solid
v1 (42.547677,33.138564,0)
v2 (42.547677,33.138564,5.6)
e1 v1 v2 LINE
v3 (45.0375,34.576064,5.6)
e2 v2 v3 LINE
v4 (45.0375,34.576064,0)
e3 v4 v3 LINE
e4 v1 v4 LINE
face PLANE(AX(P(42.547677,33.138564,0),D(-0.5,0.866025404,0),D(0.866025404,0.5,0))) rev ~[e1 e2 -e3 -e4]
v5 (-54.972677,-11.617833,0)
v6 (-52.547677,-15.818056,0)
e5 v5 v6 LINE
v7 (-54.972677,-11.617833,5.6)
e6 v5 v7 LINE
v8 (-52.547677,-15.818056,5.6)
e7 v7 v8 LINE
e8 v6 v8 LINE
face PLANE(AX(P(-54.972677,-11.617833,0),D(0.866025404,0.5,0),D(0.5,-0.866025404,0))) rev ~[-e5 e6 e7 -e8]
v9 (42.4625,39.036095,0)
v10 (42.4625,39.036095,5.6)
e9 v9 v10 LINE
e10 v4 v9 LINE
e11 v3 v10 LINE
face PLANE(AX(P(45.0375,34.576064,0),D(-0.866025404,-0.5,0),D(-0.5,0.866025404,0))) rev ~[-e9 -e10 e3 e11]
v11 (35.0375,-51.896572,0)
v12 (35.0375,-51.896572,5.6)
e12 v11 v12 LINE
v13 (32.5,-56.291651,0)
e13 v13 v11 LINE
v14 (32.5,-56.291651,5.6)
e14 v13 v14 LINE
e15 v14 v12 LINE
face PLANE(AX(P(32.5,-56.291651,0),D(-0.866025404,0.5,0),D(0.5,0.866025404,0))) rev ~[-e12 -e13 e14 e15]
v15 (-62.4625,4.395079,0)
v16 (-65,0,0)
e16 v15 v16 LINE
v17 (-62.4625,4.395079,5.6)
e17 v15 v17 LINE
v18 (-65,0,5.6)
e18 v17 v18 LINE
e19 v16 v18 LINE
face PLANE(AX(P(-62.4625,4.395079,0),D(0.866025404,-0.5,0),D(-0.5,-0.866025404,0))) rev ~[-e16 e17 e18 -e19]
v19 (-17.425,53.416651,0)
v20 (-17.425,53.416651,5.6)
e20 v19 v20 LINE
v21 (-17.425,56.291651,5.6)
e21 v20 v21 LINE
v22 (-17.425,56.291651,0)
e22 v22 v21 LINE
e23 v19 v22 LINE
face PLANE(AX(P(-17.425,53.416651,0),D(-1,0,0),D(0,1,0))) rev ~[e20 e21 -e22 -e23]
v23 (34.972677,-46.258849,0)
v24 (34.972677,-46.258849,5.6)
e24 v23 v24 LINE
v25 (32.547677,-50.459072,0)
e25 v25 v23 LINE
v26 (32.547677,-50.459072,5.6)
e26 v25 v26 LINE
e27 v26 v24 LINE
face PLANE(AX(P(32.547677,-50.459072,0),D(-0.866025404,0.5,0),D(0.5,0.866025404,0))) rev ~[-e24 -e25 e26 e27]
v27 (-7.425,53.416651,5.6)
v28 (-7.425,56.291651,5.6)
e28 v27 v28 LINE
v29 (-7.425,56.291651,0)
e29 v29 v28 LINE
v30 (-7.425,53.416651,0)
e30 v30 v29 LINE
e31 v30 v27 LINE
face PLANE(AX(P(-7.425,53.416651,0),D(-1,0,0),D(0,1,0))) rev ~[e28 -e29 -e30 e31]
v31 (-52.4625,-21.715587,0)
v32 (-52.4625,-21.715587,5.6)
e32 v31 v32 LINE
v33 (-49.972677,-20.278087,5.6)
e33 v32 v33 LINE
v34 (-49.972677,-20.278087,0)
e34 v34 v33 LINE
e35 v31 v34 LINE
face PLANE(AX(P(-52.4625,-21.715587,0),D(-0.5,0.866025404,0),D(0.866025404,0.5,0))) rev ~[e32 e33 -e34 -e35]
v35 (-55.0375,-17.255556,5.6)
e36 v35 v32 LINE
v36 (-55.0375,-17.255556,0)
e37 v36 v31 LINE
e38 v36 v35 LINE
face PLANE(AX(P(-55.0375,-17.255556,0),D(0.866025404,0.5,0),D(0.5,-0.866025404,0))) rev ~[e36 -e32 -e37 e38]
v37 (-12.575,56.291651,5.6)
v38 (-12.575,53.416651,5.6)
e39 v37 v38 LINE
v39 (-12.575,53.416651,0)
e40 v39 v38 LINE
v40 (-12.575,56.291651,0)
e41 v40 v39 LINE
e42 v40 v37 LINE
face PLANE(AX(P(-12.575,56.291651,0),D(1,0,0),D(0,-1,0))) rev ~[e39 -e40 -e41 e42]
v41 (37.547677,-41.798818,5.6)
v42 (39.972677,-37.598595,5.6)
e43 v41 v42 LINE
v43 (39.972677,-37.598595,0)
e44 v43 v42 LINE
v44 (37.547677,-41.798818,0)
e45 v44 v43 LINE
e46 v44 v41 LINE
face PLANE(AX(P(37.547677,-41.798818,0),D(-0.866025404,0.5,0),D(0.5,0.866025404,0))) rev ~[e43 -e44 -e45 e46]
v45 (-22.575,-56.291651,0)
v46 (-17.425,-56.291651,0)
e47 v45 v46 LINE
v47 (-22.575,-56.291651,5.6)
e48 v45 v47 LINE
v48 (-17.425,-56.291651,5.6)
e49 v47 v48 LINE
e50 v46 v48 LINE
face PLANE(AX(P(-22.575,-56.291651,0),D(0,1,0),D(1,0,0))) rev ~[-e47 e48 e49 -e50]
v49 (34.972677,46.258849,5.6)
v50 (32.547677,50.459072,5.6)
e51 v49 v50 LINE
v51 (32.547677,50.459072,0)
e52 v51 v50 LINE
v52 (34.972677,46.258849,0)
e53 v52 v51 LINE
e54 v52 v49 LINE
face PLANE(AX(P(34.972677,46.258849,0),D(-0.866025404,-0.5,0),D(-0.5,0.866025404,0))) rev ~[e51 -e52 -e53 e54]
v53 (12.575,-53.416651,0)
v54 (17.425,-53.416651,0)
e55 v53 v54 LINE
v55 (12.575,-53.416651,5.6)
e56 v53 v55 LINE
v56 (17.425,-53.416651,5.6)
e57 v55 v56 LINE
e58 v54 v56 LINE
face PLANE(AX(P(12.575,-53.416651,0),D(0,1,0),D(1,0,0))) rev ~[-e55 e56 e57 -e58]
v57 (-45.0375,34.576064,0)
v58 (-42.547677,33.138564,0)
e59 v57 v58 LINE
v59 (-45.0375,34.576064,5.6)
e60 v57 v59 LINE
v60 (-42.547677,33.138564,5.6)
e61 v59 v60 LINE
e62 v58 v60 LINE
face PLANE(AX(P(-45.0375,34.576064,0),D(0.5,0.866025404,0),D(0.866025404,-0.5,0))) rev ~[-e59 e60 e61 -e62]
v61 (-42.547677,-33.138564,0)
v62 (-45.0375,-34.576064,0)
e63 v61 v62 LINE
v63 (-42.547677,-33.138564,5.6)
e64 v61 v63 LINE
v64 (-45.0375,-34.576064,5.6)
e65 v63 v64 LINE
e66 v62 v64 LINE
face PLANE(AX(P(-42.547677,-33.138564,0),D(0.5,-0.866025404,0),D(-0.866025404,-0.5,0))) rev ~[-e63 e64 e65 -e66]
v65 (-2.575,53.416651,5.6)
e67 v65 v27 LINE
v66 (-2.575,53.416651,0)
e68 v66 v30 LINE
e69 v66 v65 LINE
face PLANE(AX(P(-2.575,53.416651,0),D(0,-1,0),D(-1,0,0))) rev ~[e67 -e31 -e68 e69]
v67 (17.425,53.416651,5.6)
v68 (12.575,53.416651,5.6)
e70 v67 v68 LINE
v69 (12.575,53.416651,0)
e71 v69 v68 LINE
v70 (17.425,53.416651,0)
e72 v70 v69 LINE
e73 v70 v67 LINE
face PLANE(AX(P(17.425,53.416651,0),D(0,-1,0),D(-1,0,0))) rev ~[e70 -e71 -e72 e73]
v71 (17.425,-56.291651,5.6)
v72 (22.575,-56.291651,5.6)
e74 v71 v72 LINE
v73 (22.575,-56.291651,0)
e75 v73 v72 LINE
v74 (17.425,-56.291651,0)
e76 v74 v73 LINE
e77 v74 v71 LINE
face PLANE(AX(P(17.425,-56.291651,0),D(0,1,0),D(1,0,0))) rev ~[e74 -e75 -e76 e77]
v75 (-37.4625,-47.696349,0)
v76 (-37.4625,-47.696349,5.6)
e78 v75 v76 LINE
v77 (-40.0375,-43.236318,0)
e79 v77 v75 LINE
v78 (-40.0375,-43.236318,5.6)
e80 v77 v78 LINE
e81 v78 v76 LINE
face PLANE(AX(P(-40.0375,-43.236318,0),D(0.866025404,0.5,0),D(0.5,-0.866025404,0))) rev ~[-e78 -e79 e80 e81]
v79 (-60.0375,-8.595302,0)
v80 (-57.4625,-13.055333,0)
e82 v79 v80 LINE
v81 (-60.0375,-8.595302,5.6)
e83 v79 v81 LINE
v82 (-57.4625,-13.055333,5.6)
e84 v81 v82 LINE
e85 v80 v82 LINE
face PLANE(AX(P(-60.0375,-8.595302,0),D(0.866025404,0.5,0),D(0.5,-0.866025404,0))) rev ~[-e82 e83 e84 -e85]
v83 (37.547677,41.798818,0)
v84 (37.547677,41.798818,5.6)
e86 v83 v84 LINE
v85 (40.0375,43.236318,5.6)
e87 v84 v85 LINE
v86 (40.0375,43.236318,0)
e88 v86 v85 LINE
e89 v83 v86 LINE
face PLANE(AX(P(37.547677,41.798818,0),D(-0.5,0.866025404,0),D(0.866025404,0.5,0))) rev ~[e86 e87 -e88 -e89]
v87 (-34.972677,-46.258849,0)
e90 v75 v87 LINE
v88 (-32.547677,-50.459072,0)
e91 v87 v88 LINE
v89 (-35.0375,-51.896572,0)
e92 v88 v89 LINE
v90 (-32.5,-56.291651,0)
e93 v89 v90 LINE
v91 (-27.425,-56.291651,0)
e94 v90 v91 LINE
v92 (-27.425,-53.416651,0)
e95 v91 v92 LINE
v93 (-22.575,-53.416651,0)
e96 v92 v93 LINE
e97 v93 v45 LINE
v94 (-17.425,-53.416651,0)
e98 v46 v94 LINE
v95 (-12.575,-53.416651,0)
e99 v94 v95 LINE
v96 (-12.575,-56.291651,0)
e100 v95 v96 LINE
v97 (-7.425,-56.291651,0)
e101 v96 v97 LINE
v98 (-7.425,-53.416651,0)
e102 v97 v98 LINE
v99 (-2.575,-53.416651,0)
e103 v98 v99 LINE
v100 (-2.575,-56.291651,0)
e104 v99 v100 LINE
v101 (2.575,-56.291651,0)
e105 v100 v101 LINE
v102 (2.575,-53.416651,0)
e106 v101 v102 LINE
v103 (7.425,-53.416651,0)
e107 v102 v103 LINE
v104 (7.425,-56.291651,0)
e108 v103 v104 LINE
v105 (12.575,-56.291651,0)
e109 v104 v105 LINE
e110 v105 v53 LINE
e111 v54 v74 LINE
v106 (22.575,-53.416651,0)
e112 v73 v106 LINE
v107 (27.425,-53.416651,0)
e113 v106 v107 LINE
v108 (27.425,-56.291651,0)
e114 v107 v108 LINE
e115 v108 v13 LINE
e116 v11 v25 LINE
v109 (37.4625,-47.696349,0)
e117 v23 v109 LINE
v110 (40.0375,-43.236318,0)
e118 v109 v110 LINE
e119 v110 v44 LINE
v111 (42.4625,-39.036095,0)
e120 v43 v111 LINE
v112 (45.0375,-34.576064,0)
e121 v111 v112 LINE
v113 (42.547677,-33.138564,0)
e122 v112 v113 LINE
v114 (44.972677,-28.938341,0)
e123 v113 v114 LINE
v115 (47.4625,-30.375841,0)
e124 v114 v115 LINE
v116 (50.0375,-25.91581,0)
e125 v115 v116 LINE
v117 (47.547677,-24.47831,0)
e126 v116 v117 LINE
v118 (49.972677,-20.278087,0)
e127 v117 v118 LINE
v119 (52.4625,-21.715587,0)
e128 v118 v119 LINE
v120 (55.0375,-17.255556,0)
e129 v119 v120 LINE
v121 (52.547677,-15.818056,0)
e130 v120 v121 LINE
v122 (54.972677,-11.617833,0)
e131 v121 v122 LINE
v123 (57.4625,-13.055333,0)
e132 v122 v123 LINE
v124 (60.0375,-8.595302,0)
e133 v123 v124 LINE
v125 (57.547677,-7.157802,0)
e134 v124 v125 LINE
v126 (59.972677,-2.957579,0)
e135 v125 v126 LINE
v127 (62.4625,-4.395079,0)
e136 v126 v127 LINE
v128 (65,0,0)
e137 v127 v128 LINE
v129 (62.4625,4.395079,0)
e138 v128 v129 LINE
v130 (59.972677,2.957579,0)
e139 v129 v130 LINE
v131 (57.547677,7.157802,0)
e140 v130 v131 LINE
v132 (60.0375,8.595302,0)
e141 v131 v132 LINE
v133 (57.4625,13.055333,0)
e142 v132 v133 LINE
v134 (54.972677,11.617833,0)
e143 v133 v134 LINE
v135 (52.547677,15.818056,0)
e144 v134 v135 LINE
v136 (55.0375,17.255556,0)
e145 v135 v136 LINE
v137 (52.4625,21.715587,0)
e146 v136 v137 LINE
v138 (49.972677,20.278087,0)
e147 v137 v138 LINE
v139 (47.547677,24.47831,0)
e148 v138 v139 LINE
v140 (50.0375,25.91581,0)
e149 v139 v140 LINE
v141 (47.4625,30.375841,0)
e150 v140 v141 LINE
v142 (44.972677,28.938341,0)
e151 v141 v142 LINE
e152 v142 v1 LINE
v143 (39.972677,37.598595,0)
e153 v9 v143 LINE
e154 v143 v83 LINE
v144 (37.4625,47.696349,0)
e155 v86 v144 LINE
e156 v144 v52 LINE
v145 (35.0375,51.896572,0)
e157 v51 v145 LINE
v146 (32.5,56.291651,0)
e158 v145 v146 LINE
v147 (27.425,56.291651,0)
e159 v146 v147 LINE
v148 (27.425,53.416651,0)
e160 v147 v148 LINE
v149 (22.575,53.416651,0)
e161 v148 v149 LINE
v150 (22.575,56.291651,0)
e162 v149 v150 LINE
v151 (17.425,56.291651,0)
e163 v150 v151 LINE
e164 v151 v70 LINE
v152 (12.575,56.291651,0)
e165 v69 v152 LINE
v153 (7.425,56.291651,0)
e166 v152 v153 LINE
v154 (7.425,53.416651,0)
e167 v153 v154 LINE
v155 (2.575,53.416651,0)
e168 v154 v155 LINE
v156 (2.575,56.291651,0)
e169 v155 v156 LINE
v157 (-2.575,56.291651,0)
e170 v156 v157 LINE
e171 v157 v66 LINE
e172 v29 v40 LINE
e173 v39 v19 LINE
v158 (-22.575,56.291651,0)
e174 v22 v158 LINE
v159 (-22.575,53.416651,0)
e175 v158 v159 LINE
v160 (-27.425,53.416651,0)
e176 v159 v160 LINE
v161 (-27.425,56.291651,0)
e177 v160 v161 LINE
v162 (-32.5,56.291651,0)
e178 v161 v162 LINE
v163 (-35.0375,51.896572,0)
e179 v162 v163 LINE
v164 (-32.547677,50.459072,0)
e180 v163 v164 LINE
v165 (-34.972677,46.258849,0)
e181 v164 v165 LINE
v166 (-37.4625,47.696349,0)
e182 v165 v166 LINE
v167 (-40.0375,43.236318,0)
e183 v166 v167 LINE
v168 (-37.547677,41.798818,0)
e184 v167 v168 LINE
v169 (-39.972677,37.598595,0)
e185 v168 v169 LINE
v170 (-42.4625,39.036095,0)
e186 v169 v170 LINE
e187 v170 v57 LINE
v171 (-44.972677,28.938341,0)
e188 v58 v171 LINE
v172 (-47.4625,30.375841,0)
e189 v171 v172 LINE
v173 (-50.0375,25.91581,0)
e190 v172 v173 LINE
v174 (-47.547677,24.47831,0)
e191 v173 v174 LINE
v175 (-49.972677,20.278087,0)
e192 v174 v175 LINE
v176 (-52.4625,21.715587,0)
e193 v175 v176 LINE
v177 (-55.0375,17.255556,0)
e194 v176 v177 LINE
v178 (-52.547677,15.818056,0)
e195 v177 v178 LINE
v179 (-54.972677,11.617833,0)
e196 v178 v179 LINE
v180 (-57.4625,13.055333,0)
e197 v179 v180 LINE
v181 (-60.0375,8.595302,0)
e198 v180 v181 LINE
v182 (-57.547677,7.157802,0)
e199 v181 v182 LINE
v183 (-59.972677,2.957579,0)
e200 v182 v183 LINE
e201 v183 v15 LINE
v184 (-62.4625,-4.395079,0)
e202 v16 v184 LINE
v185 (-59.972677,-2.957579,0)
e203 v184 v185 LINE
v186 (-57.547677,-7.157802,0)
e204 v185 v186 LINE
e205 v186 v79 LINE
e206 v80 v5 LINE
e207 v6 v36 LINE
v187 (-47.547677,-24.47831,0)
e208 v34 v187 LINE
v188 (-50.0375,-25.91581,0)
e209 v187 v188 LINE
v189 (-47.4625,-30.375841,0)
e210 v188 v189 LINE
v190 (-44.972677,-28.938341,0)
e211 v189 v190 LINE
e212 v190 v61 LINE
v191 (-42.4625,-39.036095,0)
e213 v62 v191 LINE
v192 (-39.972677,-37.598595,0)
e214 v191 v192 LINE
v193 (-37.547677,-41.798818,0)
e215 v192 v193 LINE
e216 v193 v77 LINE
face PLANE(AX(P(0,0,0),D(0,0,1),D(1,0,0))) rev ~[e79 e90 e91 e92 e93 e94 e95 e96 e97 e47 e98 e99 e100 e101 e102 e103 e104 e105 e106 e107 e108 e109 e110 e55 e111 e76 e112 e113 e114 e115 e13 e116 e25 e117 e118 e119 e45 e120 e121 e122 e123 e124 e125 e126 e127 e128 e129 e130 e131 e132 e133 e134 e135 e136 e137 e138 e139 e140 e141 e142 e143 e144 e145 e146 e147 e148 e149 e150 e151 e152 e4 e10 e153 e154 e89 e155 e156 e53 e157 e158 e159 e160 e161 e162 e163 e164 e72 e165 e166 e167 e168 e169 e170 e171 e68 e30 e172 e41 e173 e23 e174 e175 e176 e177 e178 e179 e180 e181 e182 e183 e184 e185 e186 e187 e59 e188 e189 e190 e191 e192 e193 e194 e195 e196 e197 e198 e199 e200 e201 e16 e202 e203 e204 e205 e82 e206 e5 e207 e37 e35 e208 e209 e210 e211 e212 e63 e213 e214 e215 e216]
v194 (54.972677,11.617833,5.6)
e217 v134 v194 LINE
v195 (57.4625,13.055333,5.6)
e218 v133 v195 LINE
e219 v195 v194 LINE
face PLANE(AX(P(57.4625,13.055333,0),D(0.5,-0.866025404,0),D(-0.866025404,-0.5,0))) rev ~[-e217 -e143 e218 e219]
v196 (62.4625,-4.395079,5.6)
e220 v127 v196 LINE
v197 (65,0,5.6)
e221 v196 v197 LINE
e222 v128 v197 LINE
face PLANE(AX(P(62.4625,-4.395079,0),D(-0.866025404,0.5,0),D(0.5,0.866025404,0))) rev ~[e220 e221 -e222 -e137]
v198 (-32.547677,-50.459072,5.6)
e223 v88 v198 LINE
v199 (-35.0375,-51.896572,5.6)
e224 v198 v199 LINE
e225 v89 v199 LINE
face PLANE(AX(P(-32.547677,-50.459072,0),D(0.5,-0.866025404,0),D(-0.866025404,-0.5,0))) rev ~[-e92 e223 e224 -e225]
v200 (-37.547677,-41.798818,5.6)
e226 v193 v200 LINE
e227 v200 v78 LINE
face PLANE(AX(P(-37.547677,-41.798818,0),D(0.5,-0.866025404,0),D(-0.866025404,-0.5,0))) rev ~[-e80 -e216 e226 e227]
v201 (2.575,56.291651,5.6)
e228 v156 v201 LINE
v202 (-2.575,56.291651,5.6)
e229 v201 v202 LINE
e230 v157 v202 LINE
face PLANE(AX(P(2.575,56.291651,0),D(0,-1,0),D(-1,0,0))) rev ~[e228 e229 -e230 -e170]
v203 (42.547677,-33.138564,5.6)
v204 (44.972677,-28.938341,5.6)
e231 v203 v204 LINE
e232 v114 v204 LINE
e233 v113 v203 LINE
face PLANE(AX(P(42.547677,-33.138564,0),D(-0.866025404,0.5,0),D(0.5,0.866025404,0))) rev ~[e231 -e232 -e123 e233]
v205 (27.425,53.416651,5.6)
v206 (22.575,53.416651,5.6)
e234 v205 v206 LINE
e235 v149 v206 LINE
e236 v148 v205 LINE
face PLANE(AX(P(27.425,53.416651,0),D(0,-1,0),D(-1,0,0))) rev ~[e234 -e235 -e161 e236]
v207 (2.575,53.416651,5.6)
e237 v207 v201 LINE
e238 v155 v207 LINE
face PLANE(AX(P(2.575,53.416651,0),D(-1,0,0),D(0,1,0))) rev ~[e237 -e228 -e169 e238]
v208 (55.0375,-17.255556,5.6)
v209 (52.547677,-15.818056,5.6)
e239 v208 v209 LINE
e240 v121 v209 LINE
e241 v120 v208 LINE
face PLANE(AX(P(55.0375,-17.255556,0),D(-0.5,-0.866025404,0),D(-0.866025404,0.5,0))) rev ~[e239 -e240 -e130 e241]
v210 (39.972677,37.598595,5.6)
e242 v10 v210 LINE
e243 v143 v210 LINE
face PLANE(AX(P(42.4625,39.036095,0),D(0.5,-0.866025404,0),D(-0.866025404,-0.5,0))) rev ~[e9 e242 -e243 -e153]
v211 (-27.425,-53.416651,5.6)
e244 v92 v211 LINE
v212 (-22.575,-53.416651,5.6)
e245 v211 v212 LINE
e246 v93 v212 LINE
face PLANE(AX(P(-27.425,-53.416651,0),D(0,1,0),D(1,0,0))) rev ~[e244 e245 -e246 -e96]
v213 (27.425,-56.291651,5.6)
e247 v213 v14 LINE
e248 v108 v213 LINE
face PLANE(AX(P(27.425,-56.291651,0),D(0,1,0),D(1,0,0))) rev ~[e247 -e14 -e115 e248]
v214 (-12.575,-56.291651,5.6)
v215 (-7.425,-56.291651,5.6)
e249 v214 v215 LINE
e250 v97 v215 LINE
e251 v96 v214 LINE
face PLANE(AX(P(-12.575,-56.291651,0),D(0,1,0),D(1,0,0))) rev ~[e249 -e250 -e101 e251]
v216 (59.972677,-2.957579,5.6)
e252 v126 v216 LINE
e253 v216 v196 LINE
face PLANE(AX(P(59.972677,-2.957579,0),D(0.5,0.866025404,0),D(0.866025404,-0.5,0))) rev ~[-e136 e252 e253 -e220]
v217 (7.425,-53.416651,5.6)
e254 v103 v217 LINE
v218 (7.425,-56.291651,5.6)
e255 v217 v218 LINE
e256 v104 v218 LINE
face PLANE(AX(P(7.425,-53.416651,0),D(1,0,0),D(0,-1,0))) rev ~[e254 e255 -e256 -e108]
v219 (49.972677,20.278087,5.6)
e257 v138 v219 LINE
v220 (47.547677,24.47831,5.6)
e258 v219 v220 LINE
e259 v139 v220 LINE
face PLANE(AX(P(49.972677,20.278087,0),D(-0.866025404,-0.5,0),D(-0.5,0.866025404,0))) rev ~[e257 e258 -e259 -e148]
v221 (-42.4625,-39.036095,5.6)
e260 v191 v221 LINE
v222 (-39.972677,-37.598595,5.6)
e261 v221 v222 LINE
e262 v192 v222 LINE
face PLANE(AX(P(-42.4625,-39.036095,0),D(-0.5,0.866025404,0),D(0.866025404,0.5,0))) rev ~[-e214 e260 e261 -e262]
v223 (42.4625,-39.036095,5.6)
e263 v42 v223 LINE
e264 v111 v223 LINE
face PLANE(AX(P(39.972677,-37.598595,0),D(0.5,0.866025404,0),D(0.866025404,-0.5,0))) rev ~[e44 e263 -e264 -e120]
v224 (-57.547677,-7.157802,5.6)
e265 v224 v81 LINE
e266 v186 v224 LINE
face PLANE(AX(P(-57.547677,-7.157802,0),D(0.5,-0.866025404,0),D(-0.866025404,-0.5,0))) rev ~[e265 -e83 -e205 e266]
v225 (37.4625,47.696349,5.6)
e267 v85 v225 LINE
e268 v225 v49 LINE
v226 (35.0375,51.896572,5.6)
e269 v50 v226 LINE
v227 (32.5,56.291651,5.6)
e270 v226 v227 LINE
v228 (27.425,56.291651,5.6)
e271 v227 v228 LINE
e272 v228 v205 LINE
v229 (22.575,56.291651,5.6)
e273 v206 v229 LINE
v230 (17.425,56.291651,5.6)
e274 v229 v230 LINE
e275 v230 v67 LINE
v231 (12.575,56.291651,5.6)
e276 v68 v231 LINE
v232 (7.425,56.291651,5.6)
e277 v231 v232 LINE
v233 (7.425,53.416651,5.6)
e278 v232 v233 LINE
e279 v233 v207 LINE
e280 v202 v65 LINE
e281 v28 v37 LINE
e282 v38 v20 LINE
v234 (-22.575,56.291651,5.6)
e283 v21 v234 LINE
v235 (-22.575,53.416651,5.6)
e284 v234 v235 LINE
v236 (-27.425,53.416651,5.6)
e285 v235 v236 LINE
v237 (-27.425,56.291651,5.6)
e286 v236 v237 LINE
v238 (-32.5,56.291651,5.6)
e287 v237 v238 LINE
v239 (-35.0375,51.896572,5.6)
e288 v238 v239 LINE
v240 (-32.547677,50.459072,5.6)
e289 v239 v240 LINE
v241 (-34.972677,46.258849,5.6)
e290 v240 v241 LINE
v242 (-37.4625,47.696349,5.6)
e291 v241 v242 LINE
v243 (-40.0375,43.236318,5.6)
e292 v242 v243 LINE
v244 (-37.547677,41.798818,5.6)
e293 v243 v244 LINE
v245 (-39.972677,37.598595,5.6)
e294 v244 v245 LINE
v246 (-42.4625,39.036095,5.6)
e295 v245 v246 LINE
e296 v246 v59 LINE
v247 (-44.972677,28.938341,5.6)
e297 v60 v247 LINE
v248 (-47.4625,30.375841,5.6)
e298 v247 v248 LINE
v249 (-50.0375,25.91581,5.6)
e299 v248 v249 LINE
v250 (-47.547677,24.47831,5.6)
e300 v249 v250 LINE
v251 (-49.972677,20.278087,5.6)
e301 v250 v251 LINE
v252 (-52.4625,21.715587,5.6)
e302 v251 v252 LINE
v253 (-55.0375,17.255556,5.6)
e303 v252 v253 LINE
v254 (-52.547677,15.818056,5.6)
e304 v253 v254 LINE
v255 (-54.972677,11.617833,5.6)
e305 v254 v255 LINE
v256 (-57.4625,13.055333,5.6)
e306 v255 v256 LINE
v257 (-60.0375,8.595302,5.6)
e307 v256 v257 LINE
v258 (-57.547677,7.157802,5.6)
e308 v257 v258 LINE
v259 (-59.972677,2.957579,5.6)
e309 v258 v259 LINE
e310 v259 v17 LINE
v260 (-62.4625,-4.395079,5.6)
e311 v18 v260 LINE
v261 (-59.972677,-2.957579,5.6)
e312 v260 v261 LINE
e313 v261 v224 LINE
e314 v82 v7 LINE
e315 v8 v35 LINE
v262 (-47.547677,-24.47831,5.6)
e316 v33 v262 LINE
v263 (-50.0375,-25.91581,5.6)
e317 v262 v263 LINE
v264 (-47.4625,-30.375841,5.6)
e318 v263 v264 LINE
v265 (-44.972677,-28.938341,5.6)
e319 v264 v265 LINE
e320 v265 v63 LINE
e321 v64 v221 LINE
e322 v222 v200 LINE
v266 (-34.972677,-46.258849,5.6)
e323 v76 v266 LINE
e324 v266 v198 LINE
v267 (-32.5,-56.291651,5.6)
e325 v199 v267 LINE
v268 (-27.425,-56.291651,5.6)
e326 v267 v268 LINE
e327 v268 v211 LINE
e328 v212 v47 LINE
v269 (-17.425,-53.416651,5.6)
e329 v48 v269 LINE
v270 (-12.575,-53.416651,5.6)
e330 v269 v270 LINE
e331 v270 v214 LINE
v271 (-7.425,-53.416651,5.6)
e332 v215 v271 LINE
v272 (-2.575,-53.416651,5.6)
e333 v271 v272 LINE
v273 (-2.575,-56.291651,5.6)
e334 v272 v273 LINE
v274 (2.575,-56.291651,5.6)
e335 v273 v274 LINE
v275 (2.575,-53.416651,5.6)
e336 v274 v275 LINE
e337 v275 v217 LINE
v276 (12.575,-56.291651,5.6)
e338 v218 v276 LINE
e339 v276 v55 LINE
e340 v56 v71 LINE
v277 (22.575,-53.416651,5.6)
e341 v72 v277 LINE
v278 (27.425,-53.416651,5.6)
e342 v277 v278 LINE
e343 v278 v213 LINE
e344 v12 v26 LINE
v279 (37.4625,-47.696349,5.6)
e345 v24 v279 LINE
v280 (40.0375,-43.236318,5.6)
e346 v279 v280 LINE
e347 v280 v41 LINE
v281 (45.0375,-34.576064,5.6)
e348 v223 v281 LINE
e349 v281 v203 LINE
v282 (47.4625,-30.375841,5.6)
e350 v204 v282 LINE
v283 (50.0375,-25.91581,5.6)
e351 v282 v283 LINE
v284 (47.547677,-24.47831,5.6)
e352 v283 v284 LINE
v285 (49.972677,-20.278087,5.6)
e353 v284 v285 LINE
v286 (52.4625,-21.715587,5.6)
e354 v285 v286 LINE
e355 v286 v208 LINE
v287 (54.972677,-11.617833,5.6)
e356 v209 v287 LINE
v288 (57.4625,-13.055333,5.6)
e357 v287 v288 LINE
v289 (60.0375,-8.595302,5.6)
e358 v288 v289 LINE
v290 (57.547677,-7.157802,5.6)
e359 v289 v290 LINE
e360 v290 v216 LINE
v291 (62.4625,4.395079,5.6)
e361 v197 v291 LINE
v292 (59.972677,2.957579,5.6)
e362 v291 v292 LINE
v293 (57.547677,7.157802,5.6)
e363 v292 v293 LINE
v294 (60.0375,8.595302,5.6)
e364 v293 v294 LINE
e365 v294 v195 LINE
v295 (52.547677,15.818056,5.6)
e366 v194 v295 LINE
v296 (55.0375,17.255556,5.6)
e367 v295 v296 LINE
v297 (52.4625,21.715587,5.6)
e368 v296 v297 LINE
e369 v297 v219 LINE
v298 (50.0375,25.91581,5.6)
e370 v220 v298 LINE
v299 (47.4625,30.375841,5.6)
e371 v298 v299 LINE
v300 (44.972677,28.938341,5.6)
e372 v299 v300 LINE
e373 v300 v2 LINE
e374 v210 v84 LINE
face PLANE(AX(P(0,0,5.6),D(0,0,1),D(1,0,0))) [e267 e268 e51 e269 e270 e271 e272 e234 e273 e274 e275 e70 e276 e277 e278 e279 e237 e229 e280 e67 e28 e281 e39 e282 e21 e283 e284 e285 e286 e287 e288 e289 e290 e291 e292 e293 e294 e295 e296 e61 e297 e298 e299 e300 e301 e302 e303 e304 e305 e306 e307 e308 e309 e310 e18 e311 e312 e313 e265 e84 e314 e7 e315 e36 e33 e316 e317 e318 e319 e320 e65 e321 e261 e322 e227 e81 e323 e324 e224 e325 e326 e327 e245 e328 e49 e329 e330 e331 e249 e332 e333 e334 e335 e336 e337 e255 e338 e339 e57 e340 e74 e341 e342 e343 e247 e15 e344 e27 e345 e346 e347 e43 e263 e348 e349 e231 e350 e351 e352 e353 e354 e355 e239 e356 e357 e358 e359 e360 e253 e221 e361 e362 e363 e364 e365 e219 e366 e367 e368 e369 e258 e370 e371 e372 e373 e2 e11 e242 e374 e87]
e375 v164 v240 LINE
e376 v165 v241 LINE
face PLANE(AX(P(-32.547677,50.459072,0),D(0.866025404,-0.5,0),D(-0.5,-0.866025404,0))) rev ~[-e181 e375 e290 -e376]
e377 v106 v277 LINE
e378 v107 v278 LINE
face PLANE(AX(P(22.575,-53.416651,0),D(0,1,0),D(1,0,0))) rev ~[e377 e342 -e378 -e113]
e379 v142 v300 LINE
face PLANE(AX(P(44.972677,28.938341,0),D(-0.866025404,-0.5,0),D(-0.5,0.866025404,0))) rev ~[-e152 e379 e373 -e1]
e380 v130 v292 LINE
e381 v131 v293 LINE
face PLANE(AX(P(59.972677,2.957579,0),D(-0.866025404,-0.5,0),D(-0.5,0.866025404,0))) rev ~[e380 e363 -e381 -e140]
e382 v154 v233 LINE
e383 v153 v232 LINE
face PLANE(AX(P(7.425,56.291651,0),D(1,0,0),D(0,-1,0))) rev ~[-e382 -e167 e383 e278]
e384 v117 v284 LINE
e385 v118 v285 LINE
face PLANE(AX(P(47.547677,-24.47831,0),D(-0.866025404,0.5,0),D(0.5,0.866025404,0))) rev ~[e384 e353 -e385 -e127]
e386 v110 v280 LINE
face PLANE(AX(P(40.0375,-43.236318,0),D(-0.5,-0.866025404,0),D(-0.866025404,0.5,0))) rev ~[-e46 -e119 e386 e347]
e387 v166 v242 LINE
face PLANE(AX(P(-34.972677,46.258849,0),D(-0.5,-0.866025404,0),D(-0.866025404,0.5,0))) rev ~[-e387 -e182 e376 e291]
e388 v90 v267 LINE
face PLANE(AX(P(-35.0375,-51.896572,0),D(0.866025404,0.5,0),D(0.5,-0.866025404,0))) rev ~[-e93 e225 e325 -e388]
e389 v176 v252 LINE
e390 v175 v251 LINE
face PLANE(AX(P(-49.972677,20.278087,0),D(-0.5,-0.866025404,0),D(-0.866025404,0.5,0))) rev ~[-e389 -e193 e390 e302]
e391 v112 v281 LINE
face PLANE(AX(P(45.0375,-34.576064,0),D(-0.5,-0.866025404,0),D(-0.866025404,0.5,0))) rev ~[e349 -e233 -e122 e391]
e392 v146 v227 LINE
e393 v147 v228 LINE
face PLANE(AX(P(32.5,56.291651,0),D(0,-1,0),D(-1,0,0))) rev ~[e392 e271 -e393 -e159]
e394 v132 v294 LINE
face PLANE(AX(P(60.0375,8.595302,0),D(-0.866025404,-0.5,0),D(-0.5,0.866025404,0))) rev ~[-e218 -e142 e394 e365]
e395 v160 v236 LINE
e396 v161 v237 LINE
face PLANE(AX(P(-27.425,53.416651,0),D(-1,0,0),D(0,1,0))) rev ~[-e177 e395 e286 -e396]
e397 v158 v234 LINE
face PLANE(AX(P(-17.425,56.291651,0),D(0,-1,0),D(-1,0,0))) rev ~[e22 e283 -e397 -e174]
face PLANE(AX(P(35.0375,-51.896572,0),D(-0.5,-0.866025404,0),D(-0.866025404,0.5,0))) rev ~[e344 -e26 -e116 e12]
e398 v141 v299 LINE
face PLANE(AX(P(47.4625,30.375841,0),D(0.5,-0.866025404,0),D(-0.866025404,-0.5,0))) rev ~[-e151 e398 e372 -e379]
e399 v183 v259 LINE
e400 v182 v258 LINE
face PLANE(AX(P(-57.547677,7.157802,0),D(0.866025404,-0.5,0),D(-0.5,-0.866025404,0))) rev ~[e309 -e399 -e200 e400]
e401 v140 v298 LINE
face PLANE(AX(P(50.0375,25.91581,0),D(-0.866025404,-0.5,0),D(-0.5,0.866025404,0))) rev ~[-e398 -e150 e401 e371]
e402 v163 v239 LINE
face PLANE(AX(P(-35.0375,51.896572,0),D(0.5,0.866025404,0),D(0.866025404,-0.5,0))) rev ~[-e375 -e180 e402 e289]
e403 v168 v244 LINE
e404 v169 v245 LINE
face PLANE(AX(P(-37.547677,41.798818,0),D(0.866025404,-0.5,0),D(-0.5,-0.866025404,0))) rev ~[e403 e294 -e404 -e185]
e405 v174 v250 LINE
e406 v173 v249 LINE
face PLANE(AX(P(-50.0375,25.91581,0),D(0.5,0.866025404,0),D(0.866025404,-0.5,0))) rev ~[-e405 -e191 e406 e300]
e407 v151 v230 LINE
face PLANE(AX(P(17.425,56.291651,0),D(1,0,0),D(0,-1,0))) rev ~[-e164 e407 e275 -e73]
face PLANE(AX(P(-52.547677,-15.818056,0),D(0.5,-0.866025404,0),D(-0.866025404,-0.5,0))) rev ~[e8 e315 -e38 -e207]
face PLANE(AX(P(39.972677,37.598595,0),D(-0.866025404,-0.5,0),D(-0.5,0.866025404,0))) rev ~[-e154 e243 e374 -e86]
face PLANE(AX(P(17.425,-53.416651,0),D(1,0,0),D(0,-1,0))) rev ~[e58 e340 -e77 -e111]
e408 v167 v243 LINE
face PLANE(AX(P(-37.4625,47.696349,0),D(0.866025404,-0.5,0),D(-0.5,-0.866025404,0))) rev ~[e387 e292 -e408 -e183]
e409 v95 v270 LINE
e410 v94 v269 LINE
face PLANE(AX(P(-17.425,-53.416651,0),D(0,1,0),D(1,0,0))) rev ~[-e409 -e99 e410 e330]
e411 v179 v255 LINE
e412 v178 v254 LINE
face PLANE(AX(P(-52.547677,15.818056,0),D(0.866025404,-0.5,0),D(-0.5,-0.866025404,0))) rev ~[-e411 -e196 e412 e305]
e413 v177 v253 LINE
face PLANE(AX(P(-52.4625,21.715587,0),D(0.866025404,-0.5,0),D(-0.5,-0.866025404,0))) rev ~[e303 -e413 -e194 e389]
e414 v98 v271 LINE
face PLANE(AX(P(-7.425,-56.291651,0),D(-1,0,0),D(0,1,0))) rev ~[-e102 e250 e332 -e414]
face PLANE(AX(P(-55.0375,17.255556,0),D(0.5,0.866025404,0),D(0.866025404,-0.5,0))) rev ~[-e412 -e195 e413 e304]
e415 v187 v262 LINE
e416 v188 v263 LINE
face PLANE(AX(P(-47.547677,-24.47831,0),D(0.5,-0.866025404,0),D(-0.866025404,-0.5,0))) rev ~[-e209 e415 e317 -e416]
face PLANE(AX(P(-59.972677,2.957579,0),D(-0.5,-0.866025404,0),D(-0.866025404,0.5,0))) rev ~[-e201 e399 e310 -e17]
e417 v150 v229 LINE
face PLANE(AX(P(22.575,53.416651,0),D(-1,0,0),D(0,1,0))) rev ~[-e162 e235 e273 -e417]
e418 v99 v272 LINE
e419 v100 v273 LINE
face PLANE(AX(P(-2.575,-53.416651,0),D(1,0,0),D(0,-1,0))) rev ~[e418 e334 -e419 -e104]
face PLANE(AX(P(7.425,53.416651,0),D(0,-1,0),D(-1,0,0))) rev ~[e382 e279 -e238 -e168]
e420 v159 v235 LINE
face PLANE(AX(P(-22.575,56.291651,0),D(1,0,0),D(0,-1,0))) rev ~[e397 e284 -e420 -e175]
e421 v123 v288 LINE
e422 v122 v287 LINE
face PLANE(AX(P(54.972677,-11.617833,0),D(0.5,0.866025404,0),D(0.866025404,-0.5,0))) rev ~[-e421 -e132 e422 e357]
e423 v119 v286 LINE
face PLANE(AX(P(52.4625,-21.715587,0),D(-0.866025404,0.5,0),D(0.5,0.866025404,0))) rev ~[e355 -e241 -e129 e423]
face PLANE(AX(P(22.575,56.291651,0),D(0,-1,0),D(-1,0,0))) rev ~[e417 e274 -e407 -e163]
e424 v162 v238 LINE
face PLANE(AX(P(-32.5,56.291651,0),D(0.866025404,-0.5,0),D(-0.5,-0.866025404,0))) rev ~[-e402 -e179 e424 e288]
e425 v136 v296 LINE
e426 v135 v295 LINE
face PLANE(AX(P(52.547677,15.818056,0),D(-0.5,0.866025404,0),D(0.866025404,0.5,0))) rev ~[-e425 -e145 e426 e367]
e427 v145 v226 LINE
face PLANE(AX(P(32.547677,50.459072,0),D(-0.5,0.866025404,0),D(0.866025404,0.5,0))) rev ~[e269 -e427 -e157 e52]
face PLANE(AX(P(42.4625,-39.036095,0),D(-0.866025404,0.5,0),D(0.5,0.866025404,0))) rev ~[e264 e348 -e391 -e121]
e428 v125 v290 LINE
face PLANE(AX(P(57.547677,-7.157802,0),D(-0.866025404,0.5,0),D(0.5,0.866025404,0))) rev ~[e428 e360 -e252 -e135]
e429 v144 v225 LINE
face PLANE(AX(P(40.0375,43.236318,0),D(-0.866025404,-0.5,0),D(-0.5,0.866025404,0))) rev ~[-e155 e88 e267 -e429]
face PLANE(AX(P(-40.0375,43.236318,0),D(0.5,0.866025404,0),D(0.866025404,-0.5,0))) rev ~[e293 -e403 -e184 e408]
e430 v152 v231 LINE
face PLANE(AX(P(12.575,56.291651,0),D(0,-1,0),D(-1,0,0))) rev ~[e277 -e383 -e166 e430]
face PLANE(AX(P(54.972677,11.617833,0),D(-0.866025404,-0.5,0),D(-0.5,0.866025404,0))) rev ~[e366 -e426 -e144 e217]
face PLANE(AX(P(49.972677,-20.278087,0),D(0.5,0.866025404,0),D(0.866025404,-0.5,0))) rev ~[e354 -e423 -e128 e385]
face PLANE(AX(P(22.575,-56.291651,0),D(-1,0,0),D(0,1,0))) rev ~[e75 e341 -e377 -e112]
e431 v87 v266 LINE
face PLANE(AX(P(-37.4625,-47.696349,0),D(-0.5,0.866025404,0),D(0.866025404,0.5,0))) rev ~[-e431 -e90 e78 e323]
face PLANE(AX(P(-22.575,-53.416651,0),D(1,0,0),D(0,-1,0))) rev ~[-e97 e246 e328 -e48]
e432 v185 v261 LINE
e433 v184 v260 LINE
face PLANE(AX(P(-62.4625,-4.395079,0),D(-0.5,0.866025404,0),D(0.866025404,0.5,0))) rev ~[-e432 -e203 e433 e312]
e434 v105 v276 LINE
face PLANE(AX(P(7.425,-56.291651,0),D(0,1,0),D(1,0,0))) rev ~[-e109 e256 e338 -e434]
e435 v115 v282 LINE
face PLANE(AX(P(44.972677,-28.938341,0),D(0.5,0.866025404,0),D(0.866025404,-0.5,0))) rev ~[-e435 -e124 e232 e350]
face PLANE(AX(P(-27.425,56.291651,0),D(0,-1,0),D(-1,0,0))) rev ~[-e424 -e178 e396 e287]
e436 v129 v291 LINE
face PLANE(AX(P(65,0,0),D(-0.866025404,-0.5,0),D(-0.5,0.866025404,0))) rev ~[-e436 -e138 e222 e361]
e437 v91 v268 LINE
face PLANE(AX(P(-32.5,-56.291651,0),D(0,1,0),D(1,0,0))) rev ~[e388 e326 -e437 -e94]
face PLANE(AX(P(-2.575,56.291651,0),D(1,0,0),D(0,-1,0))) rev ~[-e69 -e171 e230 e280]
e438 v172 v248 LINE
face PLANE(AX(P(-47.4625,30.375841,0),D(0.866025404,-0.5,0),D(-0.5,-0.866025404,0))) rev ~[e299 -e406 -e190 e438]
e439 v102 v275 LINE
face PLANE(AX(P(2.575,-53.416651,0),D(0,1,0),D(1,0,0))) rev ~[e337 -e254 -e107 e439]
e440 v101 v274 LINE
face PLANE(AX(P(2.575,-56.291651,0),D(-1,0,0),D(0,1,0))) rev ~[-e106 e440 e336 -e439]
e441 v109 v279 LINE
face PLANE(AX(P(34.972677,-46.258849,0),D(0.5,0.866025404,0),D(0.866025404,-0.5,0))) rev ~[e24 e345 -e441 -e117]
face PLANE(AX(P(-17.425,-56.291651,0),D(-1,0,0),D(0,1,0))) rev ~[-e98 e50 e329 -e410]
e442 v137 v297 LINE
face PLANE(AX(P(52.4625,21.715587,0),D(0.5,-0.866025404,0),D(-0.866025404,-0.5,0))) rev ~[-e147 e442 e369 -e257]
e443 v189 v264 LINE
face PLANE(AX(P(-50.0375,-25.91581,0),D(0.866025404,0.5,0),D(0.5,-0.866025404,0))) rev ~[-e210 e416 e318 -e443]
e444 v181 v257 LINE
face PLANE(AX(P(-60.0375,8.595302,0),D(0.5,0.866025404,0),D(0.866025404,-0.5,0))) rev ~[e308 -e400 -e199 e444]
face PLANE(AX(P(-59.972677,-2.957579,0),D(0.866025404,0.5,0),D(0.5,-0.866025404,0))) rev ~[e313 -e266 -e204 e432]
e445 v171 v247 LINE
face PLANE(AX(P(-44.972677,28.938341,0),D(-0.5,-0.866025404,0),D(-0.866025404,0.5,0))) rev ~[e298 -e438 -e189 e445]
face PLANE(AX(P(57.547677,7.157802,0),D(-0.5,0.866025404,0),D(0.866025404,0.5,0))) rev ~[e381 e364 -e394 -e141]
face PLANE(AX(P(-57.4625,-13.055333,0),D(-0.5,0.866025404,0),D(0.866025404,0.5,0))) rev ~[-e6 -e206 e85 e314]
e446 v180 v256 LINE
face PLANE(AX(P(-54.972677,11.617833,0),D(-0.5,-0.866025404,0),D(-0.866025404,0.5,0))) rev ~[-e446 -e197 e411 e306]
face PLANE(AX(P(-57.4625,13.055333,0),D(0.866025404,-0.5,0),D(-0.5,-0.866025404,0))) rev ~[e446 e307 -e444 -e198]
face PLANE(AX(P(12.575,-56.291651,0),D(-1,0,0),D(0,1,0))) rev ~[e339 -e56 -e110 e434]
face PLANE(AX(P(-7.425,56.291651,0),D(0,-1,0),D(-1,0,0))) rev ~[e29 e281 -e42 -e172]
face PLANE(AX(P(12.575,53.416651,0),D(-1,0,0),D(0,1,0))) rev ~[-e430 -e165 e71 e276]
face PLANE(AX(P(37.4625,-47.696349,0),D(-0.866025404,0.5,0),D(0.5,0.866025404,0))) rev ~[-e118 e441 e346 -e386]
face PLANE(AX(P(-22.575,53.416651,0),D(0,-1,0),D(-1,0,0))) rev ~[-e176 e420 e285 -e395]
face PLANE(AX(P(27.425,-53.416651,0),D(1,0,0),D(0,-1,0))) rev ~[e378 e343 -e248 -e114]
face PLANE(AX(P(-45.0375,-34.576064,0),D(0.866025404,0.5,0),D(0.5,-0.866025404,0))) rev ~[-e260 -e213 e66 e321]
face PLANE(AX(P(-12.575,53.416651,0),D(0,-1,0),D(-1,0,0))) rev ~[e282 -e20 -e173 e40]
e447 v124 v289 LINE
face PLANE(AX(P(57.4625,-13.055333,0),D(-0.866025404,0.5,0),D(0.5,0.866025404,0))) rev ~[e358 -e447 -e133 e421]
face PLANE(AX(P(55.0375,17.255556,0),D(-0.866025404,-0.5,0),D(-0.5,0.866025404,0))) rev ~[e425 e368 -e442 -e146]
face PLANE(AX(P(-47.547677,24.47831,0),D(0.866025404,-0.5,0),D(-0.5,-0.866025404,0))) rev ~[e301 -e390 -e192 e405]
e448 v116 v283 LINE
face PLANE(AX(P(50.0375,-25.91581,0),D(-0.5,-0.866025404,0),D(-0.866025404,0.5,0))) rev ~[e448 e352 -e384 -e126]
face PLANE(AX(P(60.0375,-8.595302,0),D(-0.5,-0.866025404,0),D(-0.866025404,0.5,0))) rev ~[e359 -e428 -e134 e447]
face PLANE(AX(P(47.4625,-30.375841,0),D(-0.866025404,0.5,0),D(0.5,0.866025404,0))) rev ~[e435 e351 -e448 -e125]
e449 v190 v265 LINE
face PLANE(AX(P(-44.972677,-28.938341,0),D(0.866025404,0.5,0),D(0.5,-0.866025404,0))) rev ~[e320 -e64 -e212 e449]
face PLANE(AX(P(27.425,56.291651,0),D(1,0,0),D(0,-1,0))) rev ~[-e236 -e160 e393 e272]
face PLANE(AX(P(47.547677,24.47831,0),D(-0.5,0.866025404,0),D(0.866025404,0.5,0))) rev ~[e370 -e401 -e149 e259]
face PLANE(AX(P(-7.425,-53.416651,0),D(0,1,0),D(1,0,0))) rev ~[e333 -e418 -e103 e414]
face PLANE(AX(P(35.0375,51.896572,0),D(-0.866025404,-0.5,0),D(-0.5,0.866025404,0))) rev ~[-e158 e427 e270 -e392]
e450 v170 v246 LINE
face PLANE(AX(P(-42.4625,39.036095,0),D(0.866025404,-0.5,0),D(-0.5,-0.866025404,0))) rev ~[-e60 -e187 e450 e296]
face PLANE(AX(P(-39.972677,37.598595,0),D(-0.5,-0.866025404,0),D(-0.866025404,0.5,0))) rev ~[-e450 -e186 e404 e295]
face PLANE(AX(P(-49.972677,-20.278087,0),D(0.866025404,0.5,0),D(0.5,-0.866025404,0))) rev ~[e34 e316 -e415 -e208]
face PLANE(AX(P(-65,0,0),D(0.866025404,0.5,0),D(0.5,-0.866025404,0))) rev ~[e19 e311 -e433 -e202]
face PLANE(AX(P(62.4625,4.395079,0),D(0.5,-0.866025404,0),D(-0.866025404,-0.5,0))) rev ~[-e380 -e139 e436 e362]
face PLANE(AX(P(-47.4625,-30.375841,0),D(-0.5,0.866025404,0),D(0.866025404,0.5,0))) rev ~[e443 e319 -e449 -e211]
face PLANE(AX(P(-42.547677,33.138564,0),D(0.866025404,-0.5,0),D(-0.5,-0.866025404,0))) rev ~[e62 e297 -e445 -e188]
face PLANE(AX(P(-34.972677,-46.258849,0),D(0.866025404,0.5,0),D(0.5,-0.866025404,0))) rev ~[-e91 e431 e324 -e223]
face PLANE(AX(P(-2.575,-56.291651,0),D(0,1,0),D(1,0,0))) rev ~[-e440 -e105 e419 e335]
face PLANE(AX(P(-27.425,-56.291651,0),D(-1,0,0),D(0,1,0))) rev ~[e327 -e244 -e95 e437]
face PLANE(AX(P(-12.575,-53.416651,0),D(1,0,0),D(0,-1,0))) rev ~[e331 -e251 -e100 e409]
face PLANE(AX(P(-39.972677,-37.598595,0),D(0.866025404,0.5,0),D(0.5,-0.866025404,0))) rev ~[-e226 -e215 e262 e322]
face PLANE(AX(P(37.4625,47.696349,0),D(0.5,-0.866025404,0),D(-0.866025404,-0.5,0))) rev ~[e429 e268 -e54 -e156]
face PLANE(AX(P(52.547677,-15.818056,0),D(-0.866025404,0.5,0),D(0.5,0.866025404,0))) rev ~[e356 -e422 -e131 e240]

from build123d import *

# Parameters (mm, degrees)
ESTRUSIONE_ESTRUSIONE1_DEPTH = 5.6


with BuildPart() as part:
    # Schizzo1 → Estrusione-Estrusione1 (new body)
    with BuildSketch(Plane.XY):
        Polygon((-17.425, 53.416651246), (-17.425, 56.291651246), (-22.575, 56.291651246), (-22.575, 53.416651246), (-27.425, 53.416651246), (-27.425, 56.291651246), (-32.5, 56.291651246), (-35.0375, 51.896572322), (-32.547676964, 50.459072322), (-34.972676964, 46.258849113), (-37.4625, 47.696349113), (-40.0375, 43.236318284), (-37.547676964, 41.798818284), (-39.972676964, 37.598595076), (-42.4625, 39.036095076), (-45.0375, 34.576064246), (-42.547676964, 33.138564246), (-44.972676964, 28.938341038), (-47.4625, 30.375841038), (-50.0375, 25.915810208), (-47.547676964, 24.478310208), (-49.972676964, 20.278087), (-52.4625, 21.715587), (-55.0375, 17.25555617), (-52.547676964, 15.81805617), (-54.972676964, 11.617832962), (-57.4625, 13.055332962), (-60.0375, 8.595302133), (-57.547676964, 7.157802133), (-59.972676964, 2.957578924), (-62.4625, 4.395078924), (-65, 0), (-62.4625, -4.395078924), (-59.972676964, -2.957578924), (-57.547676964, -7.157802133), (-60.0375, -8.595302133), (-57.4625, -13.055332962), (-54.972676964, -11.617832962), (-52.547676964, -15.81805617), (-55.0375, -17.25555617), (-52.4625, -21.715587), (-49.972676964, -20.278087), (-47.547676964, -24.478310208), (-50.0375, -25.915810208), (-47.4625, -30.375841038), (-44.972676964, -28.938341038), (-42.547676964, -33.138564246), (-45.0375, -34.576064246), (-42.4625, -39.036095076), (-39.972676964, -37.598595076), (-37.547676964, -41.798818284), (-40.0375, -43.236318284), (-37.4625, -47.696349113), (-34.972676964, -46.258849113), (-32.547676964, -50.459072322), (-35.0375, -51.896572322), (-32.5, -56.291651246), (-27.425, -56.291651246), (-27.425, -53.416651246), (-22.575, -53.416651246), (-22.575, -56.291651246), (-17.425, -56.291651246), (-17.425, -53.416651246), (-12.575, -53.416651246), (-12.575, -56.291651246), (-7.425, -56.291651246), (-7.425, -53.416651246), (-2.575, -53.416651246), (-2.575, -56.291651246), (2.575, -56.291651246), (2.575, -53.416651246), (7.425, -53.416651246), (7.425, -56.291651246), (12.575, -56.291651246), (12.575, -53.416651246), (17.425, -53.416651246), (17.425, -56.291651246), (22.575, -56.291651246), (22.575, -53.416651246), (27.425, -53.416651246), (27.425, -56.291651246), (32.5, -56.291651246), (35.0375, -51.896572322), (32.547676964, -50.459072322), (34.972676964, -46.258849113), (37.4625, -47.696349113), (40.0375, -43.236318284), (37.547676964, -41.798818284), (39.972676964, -37.598595076), (42.4625, -39.036095076), (45.0375, -34.576064246), (42.547676964, -33.138564246), (44.972676964, -28.938341038), (47.4625, -30.375841038), (50.0375, -25.915810208), (47.547676964, -24.478310208), (49.972676964, -20.278087), (52.4625, -21.715587), (55.0375, -17.25555617), (52.547676964, -15.81805617), (54.972676964, -11.617832962), (57.4625, -13.055332962), (60.0375, -8.595302133), (57.547676964, -7.157802133), (59.972676964, -2.957578924), (62.4625, -4.395078924), (65, 0), (62.4625, 4.395078924), (59.972676964, 2.957578924), (57.547676964, 7.157802133), (60.0375, 8.595302133), (57.4625, 13.055332962), (54.972676964, 11.617832962), (52.547676964, 15.81805617), (55.0375, 17.25555617), (52.4625, 21.715587), (49.972676964, 20.278087), (47.547676964, 24.478310208), (50.0375, 25.915810208), (47.4625, 30.375841038), (44.972676964, 28.938341038), (42.547676964, 33.138564246), (45.0375, 34.576064246), (42.4625, 39.036095076), (39.972676964, 37.598595076), (37.547676964, 41.798818284), (40.0375, 43.236318284), (37.4625, 47.696349113), (34.972676964, 46.258849113), (32.547676964, 50.459072322), (35.0375, 51.896572322), (32.5, 56.291651246), (27.425, 56.291651246), (27.425, 53.416651246), (22.575, 53.416651246), (22.575, 56.291651246), (17.425, 56.291651246), (17.425, 53.416651246), (12.575, 53.416651246), (12.575, 56.291651246), (7.425, 56.291651246), (7.425, 53.416651246), (2.575, 53.416651246), (2.575, 56.291651246), (-2.575, 56.291651246), (-2.575, 53.416651246), (-7.425, 53.416651246), (-7.425, 56.291651246), (-12.575, 56.291651246), (-12.575, 53.416651246), align=None)
    extrude(amount=ESTRUSIONE_ESTRUSIONE1_DEPTH)


solid = part.part
